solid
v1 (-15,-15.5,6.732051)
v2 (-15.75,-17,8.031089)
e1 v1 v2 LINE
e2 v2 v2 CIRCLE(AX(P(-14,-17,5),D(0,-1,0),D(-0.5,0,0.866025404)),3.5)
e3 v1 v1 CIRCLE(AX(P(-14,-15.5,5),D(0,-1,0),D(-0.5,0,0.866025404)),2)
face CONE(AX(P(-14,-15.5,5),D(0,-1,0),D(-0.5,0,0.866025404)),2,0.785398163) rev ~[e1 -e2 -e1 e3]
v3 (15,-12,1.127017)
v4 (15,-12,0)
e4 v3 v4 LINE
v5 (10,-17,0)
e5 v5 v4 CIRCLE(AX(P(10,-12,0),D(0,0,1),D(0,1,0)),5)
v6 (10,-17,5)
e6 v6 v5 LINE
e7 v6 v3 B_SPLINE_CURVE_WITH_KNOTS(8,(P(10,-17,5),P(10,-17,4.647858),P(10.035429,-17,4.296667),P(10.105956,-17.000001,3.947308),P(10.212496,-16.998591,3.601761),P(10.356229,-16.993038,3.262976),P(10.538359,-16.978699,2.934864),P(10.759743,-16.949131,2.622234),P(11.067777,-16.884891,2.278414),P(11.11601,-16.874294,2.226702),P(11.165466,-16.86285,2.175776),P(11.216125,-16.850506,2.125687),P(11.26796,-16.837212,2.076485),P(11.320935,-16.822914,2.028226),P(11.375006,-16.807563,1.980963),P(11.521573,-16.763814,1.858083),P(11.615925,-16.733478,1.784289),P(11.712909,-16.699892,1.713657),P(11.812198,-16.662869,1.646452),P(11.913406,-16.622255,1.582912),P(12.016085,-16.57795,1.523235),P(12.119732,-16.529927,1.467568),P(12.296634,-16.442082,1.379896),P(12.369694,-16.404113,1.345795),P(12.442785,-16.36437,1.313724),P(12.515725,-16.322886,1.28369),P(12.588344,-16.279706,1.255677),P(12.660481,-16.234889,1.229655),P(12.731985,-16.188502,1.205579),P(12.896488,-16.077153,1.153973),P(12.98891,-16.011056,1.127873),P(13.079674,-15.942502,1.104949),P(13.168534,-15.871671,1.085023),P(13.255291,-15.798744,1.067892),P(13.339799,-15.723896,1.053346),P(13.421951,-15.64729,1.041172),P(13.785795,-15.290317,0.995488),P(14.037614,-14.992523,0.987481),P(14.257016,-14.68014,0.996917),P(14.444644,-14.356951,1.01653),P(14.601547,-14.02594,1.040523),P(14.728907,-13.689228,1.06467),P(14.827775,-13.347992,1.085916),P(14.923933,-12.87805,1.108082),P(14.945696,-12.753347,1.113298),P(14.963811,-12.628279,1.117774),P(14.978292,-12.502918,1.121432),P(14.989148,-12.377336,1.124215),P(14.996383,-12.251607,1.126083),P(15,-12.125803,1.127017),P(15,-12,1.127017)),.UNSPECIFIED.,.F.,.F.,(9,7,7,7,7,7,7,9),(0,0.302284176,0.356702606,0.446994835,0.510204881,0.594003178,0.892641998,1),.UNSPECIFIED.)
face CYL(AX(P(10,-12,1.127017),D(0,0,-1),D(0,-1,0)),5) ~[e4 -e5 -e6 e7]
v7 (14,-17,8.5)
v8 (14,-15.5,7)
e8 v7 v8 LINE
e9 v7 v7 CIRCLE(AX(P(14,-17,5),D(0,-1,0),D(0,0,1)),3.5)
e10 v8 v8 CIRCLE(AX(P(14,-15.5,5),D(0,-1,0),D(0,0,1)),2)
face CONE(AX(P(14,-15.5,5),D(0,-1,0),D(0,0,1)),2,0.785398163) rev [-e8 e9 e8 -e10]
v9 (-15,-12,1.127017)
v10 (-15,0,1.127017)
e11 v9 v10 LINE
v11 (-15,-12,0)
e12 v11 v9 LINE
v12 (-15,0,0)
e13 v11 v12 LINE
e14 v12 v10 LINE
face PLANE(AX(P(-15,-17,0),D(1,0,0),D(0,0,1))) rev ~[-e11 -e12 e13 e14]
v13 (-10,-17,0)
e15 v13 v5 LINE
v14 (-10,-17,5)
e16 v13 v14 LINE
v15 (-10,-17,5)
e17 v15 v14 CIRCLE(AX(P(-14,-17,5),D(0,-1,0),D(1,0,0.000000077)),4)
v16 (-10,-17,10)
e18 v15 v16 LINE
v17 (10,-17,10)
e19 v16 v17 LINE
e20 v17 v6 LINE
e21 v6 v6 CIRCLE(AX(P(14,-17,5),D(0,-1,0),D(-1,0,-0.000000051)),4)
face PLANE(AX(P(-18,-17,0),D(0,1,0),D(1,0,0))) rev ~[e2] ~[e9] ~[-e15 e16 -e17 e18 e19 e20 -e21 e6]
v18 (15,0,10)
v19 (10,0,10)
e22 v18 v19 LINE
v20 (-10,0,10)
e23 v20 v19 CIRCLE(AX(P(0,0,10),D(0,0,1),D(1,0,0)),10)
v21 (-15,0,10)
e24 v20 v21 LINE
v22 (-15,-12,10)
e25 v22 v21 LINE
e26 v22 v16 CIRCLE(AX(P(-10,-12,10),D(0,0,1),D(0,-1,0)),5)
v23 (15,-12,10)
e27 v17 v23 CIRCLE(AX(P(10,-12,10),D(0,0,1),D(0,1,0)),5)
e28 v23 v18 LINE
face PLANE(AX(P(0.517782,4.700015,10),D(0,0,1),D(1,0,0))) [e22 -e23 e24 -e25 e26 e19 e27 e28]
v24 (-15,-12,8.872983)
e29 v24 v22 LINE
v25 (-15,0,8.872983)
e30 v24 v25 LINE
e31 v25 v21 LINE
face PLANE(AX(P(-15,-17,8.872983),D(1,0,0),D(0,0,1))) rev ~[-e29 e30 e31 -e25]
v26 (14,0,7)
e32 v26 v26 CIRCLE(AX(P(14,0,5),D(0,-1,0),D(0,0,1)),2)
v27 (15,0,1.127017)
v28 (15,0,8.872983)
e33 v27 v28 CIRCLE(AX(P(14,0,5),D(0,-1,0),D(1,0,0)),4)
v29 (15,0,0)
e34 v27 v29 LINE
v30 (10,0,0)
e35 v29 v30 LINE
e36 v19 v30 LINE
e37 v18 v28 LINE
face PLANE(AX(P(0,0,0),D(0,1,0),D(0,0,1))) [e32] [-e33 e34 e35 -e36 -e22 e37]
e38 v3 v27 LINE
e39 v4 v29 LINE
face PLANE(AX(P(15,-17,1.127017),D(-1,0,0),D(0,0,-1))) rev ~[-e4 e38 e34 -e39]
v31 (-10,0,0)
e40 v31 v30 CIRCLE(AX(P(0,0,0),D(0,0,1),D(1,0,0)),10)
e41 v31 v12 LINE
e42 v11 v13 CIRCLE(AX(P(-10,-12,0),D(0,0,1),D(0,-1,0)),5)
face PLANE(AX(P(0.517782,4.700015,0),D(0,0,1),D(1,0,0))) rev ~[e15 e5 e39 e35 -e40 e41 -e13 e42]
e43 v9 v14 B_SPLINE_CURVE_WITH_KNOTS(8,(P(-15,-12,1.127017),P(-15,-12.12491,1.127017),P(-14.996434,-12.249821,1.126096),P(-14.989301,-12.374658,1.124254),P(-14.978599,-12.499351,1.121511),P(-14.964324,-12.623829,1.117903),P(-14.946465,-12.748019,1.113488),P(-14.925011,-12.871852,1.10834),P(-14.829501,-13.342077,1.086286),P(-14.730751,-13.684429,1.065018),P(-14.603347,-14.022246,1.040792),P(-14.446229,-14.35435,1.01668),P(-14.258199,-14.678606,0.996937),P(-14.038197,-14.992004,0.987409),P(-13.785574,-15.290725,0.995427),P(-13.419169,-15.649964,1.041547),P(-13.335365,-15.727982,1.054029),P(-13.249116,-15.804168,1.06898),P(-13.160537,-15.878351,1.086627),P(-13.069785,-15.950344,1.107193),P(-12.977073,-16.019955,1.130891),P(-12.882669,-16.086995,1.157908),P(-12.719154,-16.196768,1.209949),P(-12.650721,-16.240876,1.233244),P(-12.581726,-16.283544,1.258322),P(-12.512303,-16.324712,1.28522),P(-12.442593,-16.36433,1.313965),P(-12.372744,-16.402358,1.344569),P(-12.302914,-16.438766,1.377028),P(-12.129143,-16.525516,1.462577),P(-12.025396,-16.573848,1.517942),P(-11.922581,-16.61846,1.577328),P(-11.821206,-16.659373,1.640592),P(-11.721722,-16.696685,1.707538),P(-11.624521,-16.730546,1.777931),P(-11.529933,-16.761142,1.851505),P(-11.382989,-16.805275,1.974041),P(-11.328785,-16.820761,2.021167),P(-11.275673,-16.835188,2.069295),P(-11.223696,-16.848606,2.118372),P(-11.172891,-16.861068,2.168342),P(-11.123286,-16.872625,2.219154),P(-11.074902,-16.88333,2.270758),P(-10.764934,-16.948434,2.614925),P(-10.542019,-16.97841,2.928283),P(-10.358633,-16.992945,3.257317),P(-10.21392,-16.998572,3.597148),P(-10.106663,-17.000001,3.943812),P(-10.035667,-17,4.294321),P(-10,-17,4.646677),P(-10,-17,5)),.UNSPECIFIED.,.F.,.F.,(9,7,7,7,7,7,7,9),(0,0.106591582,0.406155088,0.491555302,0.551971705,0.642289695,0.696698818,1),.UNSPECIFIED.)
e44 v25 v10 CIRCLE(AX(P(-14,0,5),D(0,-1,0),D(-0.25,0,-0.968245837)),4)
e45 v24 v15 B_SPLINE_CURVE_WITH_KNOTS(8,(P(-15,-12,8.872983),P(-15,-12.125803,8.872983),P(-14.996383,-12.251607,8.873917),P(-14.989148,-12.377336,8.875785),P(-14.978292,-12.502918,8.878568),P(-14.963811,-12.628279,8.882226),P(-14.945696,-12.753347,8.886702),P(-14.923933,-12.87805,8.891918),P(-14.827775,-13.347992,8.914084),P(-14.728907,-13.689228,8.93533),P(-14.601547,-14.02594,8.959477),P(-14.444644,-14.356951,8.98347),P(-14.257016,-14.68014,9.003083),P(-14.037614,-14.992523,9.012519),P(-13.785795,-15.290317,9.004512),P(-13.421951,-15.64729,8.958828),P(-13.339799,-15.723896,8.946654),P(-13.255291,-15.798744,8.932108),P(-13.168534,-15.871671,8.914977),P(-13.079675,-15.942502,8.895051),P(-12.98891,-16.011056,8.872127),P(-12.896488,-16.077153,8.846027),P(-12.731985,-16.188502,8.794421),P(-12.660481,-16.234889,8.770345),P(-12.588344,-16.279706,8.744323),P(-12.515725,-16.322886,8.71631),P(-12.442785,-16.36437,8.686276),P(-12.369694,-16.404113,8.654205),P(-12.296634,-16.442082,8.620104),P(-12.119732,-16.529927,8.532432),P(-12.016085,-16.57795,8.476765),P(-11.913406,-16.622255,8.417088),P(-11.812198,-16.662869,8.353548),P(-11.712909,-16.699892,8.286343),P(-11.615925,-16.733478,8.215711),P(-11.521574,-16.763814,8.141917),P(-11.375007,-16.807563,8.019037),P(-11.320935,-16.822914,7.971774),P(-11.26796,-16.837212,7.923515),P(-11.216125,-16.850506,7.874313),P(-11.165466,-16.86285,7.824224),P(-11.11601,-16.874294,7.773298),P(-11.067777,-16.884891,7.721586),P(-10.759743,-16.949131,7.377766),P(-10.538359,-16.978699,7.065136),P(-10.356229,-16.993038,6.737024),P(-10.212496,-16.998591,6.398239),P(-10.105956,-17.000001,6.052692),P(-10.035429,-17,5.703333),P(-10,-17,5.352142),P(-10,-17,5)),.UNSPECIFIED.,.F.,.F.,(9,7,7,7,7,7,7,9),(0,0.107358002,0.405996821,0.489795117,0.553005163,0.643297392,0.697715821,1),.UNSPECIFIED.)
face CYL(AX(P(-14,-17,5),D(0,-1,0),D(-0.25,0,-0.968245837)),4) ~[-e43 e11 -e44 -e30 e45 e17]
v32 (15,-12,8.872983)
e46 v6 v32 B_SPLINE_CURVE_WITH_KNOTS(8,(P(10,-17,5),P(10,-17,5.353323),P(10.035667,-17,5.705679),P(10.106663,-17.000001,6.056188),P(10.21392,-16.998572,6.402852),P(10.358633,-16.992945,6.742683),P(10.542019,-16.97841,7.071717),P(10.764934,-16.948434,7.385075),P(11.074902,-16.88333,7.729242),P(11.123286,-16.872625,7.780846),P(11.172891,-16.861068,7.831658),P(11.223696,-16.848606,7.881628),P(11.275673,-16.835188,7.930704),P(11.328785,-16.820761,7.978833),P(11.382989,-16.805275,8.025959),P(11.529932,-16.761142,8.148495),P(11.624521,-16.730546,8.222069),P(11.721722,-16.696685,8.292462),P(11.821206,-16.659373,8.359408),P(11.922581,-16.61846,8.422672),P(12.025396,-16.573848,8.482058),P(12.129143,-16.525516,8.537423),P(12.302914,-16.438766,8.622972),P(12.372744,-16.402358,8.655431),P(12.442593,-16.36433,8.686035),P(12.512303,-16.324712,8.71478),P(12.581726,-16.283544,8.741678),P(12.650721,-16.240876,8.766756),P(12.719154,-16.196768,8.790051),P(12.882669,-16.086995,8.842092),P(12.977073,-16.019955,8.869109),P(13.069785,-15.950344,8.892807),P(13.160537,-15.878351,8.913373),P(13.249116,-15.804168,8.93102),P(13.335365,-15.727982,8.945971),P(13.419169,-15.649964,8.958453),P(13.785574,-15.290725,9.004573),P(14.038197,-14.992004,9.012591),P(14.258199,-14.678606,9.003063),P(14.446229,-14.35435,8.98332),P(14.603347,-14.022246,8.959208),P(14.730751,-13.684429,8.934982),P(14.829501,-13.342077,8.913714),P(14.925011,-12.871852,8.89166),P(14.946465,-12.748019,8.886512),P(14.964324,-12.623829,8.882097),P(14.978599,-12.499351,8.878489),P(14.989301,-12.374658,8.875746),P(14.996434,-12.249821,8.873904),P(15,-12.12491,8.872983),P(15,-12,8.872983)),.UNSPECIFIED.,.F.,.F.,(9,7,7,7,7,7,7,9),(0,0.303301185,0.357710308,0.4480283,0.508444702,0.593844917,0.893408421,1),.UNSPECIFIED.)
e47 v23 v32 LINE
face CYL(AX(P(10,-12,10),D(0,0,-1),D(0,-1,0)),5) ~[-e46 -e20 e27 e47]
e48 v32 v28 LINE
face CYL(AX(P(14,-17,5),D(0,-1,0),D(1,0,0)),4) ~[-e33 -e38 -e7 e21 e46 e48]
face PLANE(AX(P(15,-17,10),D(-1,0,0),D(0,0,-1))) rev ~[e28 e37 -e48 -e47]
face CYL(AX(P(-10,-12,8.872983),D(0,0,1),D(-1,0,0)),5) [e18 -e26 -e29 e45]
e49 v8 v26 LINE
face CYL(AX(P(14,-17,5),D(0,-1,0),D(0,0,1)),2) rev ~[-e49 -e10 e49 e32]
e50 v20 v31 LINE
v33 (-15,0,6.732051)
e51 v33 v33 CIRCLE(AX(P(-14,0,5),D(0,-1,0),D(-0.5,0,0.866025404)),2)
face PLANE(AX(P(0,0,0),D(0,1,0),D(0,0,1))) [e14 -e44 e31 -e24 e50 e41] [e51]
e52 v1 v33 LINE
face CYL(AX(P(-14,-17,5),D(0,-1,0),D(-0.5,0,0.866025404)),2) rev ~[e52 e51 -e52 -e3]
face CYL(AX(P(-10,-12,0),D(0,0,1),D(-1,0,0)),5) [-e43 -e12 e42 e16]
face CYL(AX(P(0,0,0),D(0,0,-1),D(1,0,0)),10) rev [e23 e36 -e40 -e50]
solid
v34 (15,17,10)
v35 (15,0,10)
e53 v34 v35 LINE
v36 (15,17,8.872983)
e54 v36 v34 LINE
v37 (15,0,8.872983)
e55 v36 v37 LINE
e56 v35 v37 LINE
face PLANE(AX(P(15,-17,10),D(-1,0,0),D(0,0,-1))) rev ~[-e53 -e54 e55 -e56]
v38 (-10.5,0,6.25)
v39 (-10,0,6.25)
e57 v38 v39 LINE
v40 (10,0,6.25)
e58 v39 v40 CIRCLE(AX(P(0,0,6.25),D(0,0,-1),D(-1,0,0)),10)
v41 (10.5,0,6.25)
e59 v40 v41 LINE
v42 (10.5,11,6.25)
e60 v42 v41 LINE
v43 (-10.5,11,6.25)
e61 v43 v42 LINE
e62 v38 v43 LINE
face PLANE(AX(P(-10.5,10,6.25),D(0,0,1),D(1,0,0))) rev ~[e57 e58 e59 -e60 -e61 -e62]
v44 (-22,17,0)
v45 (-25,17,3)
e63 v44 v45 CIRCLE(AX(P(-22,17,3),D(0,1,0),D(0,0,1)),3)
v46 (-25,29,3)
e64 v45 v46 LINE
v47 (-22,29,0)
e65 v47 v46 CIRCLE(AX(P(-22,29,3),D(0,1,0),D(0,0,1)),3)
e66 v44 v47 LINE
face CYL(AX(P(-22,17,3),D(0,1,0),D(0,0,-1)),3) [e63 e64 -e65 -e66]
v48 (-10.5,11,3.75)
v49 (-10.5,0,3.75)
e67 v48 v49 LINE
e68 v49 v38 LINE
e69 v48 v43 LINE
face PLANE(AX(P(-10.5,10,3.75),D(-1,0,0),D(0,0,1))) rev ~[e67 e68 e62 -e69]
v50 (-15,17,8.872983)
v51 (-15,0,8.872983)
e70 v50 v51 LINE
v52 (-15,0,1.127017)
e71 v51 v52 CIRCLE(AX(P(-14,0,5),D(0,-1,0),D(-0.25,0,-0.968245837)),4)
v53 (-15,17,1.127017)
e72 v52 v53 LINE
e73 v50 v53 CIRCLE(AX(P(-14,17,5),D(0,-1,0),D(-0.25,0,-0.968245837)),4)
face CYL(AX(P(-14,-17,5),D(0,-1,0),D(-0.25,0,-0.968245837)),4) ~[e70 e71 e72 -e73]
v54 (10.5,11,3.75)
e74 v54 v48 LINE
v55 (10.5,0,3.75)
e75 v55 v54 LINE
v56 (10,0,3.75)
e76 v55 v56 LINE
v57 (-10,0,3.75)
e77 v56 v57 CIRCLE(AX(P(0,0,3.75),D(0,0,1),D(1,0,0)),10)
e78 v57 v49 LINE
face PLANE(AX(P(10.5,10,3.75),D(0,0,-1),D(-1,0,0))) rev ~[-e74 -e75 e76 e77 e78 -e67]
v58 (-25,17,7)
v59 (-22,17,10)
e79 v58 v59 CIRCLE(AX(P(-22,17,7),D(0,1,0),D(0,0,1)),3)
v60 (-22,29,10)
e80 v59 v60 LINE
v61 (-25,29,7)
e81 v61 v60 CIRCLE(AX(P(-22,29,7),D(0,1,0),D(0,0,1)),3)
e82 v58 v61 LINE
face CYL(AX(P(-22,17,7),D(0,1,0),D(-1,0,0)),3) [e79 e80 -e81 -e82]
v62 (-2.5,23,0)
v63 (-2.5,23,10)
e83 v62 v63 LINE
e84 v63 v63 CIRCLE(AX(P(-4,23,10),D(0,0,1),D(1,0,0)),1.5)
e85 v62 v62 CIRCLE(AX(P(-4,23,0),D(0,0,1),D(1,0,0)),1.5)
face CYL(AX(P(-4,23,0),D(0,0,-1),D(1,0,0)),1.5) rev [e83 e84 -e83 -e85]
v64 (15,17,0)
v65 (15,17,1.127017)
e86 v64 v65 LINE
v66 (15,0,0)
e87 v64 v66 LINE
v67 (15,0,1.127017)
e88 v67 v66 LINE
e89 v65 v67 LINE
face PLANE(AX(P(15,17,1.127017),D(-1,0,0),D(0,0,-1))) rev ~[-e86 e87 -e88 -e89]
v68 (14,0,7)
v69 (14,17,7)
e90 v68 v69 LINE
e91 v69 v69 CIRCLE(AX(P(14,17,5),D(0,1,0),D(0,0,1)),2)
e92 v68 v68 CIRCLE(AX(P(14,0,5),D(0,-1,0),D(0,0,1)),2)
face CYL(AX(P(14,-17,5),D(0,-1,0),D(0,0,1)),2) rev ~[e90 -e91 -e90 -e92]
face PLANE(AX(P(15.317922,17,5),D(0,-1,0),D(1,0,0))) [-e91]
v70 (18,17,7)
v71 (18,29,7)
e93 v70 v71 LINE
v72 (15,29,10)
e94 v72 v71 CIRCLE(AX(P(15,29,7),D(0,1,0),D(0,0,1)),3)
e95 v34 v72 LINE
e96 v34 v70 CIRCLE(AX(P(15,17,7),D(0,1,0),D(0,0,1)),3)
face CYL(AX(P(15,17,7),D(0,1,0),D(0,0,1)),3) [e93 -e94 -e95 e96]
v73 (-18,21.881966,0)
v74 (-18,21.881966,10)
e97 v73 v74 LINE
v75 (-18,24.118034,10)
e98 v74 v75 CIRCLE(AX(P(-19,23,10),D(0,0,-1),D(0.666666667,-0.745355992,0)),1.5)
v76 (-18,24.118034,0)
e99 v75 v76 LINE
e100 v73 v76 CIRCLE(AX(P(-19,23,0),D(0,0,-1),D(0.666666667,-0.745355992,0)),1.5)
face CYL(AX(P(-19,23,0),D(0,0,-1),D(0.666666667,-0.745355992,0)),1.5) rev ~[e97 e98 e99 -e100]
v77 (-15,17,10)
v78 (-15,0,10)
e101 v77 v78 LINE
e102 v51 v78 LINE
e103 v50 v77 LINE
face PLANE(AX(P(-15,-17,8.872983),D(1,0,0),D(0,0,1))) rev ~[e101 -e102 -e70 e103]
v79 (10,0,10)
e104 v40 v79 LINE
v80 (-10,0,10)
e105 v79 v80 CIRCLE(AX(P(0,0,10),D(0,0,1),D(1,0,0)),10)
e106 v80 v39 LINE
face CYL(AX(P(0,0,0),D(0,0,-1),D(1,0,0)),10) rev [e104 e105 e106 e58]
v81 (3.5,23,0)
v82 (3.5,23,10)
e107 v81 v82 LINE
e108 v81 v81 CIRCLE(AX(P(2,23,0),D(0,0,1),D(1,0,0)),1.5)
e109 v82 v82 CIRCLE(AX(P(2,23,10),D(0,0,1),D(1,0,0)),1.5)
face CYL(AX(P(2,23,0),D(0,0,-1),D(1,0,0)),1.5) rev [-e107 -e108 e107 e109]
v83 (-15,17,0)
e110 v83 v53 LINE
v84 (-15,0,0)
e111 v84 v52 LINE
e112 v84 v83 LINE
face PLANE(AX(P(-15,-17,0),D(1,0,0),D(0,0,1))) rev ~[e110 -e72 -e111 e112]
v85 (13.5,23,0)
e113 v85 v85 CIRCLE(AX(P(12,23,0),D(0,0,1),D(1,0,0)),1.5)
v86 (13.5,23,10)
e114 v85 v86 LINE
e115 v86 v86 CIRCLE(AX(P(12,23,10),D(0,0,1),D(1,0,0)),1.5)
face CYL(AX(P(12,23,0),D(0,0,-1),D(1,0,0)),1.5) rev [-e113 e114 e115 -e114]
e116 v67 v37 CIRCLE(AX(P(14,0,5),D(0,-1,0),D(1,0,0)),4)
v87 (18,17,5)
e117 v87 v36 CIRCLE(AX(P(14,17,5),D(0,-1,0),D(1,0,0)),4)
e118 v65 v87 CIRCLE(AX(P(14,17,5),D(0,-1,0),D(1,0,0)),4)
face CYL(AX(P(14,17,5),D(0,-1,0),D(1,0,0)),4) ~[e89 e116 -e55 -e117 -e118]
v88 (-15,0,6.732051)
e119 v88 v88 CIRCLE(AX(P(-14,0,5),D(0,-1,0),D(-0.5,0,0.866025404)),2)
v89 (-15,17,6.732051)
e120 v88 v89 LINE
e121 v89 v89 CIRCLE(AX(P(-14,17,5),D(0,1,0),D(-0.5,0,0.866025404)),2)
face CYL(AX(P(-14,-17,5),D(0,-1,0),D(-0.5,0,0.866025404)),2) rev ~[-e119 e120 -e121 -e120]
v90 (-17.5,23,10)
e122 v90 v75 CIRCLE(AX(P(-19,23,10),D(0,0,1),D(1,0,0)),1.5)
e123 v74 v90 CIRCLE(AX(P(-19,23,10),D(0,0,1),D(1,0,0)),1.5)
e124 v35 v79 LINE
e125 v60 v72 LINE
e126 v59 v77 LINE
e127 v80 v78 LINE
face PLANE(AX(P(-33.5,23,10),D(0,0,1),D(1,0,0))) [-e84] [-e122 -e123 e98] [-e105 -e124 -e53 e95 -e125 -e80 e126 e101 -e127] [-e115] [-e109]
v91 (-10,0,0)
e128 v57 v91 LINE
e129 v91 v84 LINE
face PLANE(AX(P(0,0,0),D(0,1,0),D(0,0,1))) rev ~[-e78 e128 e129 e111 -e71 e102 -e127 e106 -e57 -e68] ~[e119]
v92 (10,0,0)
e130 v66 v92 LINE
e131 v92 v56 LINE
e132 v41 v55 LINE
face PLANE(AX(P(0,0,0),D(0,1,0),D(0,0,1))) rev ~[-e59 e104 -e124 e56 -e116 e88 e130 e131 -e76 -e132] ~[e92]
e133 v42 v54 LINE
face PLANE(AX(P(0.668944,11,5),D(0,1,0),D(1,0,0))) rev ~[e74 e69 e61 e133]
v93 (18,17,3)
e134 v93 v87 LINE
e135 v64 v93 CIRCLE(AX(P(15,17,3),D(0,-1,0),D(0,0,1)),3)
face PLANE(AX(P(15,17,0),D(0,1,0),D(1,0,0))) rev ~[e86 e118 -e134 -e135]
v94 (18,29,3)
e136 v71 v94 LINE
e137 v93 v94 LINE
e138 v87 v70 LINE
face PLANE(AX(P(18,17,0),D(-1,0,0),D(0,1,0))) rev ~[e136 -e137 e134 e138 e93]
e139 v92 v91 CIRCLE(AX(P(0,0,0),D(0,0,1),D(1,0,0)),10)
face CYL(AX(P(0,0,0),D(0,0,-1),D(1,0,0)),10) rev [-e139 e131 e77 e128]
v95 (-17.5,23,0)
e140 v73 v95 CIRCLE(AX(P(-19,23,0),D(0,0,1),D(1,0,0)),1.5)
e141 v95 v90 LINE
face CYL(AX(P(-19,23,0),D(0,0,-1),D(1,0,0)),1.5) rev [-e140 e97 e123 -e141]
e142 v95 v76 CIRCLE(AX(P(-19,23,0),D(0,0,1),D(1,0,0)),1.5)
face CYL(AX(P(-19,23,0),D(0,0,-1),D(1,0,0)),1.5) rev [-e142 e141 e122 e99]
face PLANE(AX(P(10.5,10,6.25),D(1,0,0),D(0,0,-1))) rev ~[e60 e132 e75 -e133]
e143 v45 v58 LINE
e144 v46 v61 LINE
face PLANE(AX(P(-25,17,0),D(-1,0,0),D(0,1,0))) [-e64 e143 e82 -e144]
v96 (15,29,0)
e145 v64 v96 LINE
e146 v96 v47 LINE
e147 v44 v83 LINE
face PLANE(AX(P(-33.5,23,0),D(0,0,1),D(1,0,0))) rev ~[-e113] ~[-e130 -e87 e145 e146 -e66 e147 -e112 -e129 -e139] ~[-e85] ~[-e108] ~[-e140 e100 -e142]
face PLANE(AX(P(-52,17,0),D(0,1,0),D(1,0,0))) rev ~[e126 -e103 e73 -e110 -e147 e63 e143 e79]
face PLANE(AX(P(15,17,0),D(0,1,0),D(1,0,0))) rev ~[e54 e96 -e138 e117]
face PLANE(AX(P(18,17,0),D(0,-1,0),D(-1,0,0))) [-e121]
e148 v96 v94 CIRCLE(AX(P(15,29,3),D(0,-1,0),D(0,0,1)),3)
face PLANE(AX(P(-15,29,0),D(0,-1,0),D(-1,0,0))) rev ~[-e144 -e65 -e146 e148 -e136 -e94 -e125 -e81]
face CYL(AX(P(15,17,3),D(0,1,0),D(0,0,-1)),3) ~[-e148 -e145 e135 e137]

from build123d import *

# Parameters (mm, degrees)
SKETCH1_R           = 10.000000000000004
SKETCH1_R_2         = 1.5000000000000007
SKETCH1_R_3         = 1.5000000000000027
SKETCH1_R_4         = 1.5000000000000024
BOSS_EXTRUDE1_DEPTH = 10
CUT_EXTRUDE1_DEPTH  = 34
CUT_EXTRUDE3_START  = 20
SKETCH3_W           = 0.5
SKETCH3_H           = 2.499999999999996
CUT_EXTRUDE3_DEPTH  = 10
CUT_EXTRUDE4_START  = 20
SKETCH3_3_W         = 0.5
SKETCH3_3_H         = 2.499999999999996
CUT_EXTRUDE4_DEPTH  = 1
FILLET1_R           = 5
CHAMFER1_SIZE       = 1.5
BOSS_EXTRUDE2_REACH = 37.567
SKETCH5_W           = 36
SKETCH5_H           = 12.000000000000004
SKETCH5_R           = 1.5000000000000024
SKETCH5_R_2         = 1.500000000000002
SKETCH5_R_3         = 1.5
CUT_EXTRUDE6_DEPTH  = 12
BOSS_EXTRUDE3_START = -10
SKETCH7_R           = 1.5000000000000215
BOSS_EXTRUDE3_DEPTH = 10
CUT_EXTRUDE7_START  = -10
SKETCH8_R           = 1.5000000000000042
SKETCH8_W           = 26.999999999999982
SKETCH8_H           = 12.000000000000004
CUT_EXTRUDE7_DEPTH  = 10
FILLET2_R           = 3


with BuildPart() as part:
    # Sketch1 → Boss-Extrude1 (new body)
    with BuildSketch(Plane.XY):
        with BuildLine():
            ThreePointArc((7.0000000000000355, 26.31662479035534), (3.3722813232688944, 28.84096258931757), (-1.0000000000002711, 28.196152422706483))
            ThreePointArc((-1.0000000000002185, 28.196152422706756), (-7.000000000000114, 28.19615242270657), (-10.000000000000007, 23))
            Line((-10.000000000000005, 23), (-10.000000000000005, 17))
            Line((-10.000000000000004, 17), (-18.000000000000004, 17))
            Line((-18.000000000000004, 17), (-18.000000000000004, -17))
            Line((-18.000000000000004, -17), (17.999999999999996, -17))
            Line((17.999999999999996, -17), (17.999999999999996, 23))
            ThreePointArc((17.999999999999996, 23), (13.73205080756885, 28.744562646538036), (6.999999999999968, 26.316624790355363))
        make_face()
        Circle(SKETCH1_R, mode=Mode.SUBTRACT)
        with Locations((-4.0000000000000036, 23)):
            Circle(SKETCH1_R_2, mode=Mode.SUBTRACT)
        with Locations((1.9999999999999956, 23)):
            Circle(SKETCH1_R_3, mode=Mode.SUBTRACT)
        with Locations((11.999999999999995, 23)):
            Circle(SKETCH1_R_4, mode=Mode.SUBTRACT)
    extrude(amount=BOSS_EXTRUDE1_DEPTH)

    # Sketch2 → Cut-Extrude1 (cut)
    with BuildSketch(Plane.XZ.offset(17)):
        with BuildLine():
            Line((-14.000000000000002, 6.999999999999998), (-14.000000000000002, 2.9999999999999996))
            ThreePointArc((-13.999999999999972, 2.9999999999999996), (-12.585786437626895, 3.5857864376269153), (-12.000000000000002, 4.999999999999998))
            ThreePointArc((-12.000000000000002, 4.999999999999999), (-12.585786437626897, 6.414213562373083), (-13.999999999999972, 6.999999999999998))
        make_face()
        with BuildLine():
            ThreePointArc((-15, 3.267949192431122), (-14.517638090205029, 3.068148347421859), (-13.999999999999972, 2.9999999999999996))
            Line((-14.000000000000002, 2.9999999999999996), (-14.000000000000002, 6.999999999999998))
            ThreePointArc((-13.999999999999972, 6.999999999999998), (-14.517638090205029, 6.931851652578139), (-15.000000000000002, 6.732050807568876))
            Line((-15.000000000000002, 6.732050807568876), (-15.000000000000002, 3.2679491924311215))
        make_face()
        with BuildLine():
            ThreePointArc((-15.000000000000002, 6.732050807568876), (-16, 4.999999999999998), (-15, 3.267949192431122))
            Line((-15.000000000000002, 3.2679491924311215), (-15.000000000000002, 6.732050807568876))
        make_face()
        with BuildLine():
            Line((14.999999999999996, 6.732050807568884), (15, 3.2679491924311357))
            ThreePointArc((15.000000000000002, 3.267949192431135), (15.732050807568875, 4.000000000000011), (15.999999999999996, 5.000000000000009))
            ThreePointArc((15.999999999999996, 5.00000000000001), (15.732050807568875, 6.000000000000008), (15, 6.732050807568885))
        make_face()
        with BuildLine():
            Line((13.999999999999996, 7.000000000000009), (14, 3.0000000000000107))
            ThreePointArc((14.000000000000028, 3.0000000000000107), (14.517638090205056, 3.0681483474218787), (15.000000000000002, 3.267949192431135))
            Line((15, 3.2679491924311357), (14.999999999999996, 6.732050807568884))
            ThreePointArc((15, 6.732050807568885), (14.517638090205056, 6.931851652578141), (14.000000000000027, 7.000000000000009))
        make_face()
        with BuildLine():
            ThreePointArc((14.000000000000027, 7.000000000000009), (12, 5.000000000000009), (14.000000000000028, 3.0000000000000107))
            Line((14, 3.0000000000000107), (13.999999999999996, 7.000000000000009))
        make_face()
        with BuildLine():
            Line((14.999999999999995, 10.00000000000001), (14.999999999999995, 8.87298334620741))
            ThreePointArc((15.000000000000027, 8.872983346207418), (17.162277660168385, 7.449489742783175), (17.999999999999996, 5.00000000000001))
            Line((17.999999999999996, 5.00000000000001), (17.999999999999996, 10))
            Line((17.999999999999996, 10), (14.999999999999995, 10))
        make_face()
        with BuildLine():
            Line((15.000000000000002, 1.1270166537926105), (15.000000000000002, 1.066e-14))
            Line((15.000000000000004, 0), (17.999999999999996, 0))
            Line((17.999999999999996, 0), (17.999999999999996, 5.00000000000001))
            ThreePointArc((17.999999999999996, 5.000000000000009), (17.162277660168385, 2.5505102572168443), (15.000000000000032, 1.1270166537926025))
        make_face()
        with BuildLine():
            Line((-18.000000000000004, 10), (-18.000000000000004, 5))
            ThreePointArc((-18.000000000000004, 5), (-17.16227766016838, 7.449489742783178), (-15.000000000000004, 8.872983346207416))
            Line((-15.000000000000002, 8.872983346207416), (-15.000000000000002, 10))
            Line((-15.000000000000004, 10), (-18.000000000000004, 10))
        make_face()
        with BuildLine():
            Line((-18.000000000000004, 0), (-15.000000000000002, 0))
            Line((-15.000000000000002, 0), (-15.000000000000002, 1.127016653792582))
            ThreePointArc((-15.000000000000004, 1.1270166537925816), (-17.16227766016838, 2.5505102572168212), (-18.000000000000004, 5))
            Line((-18.000000000000004, 5), (-18.000000000000004, 0))
        make_face()
    extrude(amount=-CUT_EXTRUDE1_DEPTH, mode=Mode.SUBTRACT)

    # Sketch3 → Cut-Extrude3 (cut)
    with BuildSketch(Plane(origin=(0, -10.000000000000002, 0), x_dir=(1, 0, 0), z_dir=(0, 1, 0)).offset(CUT_EXTRUDE3_START)):
        Polygon((10.000000000000002, -6.2499999999999964), (10.000000000000002, -3.7500000000000004), (-8.662112306558027, -3.7500000000000004), (-8.662112306558027, -6.250000000000001), align=None)
        Polygon((-8.662112306558027, -3.7500000000000004), (-10.000000000000002, -3.7500000000000004), (-10, -6.250000000000003), (-8.662112306558027, -6.250000000000002), align=None)
        Polygon((-10, -6.250000000000003), (-10.000000000000002, -3.7500000000000004), (-10.5, -3.7500000000000004), (-10.5, -6.250000000000002), align=None)
        with Locations((10.250000000000002, -4.999999999999998)):
            Rectangle(SKETCH3_W, SKETCH3_H)
    extrude(amount=-CUT_EXTRUDE3_DEPTH, mode=Mode.SUBTRACT)

    # Sketch3_3 → Cut-Extrude4 (cut)
    with BuildSketch(Plane(origin=(0, -10.000000000000002, 0), x_dir=(1, 0, 0), z_dir=(0, 1, 0)).offset(CUT_EXTRUDE4_START)):
        Polygon((10.000000000000002, -6.2499999999999964), (10.000000000000002, -3.7500000000000004), (-8.662112306558027, -3.7500000000000004), (-8.662112306558027, -6.250000000000001), align=None)
        Polygon((-8.662112306558027, -3.7500000000000004), (-10.000000000000002, -3.7500000000000004), (-10, -6.250000000000003), (-8.662112306558027, -6.250000000000002), align=None)
        Polygon((-10, -6.250000000000003), (-10.000000000000002, -3.7500000000000004), (-10.5, -3.7500000000000004), (-10.5, -6.250000000000002), align=None)
        with Locations((10.250000000000002, -4.999999999999998)):
            Rectangle(SKETCH3_3_W, SKETCH3_3_H)
    extrude(amount=CUT_EXTRUDE4_DEPTH, mode=Mode.SUBTRACT)

    # Fillet1
    fillet1_edges = [part.edges().sort_by_distance(p)[0] for p in [
        (-15.000000000000002, -17, 0.563508326896291),
        (14.999999999999995, -17, 9.43649167310371),
        (15.000000000000002, -17, 0.5635083268963106),
        (-15.000000000000002, -17, 9.436491673103708),
    ]]
    fillet(fillet1_edges, radius=FILLET1_R)

    # Chamfer1
    chamfer1_edges = [part.edges().sort_by_distance(p)[0] for p in [
        (13.999999999999972, -17, 7.00000000000001),
        (-13.000000000000005, -17, 3.2679491924311277),
    ]]
    chamfer(chamfer1_edges, length=CHAMFER1_SIZE)


with BuildPart() as body_2:
    # Split1: the piece on the far side of the plane
    add(part.part)
    split(bisect_by=Plane.ZX, keep=Keep.BOTTOM)


with BuildPart() as part_1:
    add(part.part)

    # Split1
    split(bisect_by=Plane.ZX, keep=Keep.TOP)

    # Boss-Extrude2: up to this face of the body (flat: up to its plane)
    boss_extrude2_end = Plane(part_1.part.faces().sort_by_distance((1.800705517, 15.88757201, 10))[0])
    # Sketch5 → Boss-Extrude2 (add, up to the picked face)
    with BuildSketch(Plane(origin=(0, 0, 0), x_dir=(-1, 0, 0), z_dir=(0, 0, -1)), mode=Mode.PRIVATE) as boss_extrude2_sk1:
        with Locations((3.55e-15, 23)):
            Rectangle(SKETCH5_W, SKETCH5_H)
        with Locations(Location((-11.999999999999995, 23, 0), (0, 0, 180))):
            Circle(SKETCH5_R, mode=Mode.SUBTRACT)
        with Locations(Location((-1.999999999999995, 23, 0), (0, 0, 180))):
            Circle(SKETCH5_R_2, mode=Mode.SUBTRACT)
        with Locations(Location((4.000000000000005, 23, 0), (0, 0, 180))):
            Circle(SKETCH5_R_3, mode=Mode.SUBTRACT)
    boss_extrude2_tool1 = split(extrude(boss_extrude2_sk1.sketch, amount=-BOSS_EXTRUDE2_REACH, mode=Mode.PRIVATE), bisect_by=boss_extrude2_end, keep=Keep.BOTH, mode=Mode.PRIVATE)
    add(boss_extrude2_tool1.solids().sort_by(Axis((-0.172071, 23, 0), (0, 0, 1)))[0])

    # Sketch6 → Cut-Extrude6 (cut)
    with BuildSketch(Plane.XZ.offset(-17)):
        with BuildLine():
            Line((17.999999999999996, 10), (14.999999999999995, 10))
            Line((14.999999999999995, 10), (14.999999999999995, 8.872983346207427))
            ThreePointArc((14.999999999999995, 8.872983346207427), (17.162277660168375, 7.449489742783188), (17.999999999999996, 5.00000000000001))
            Line((17.999999999999996, 5.00000000000001), (17.999999999999996, 10))
        make_face()
        with BuildLine():
            Line((17.999999999999996, 0), (17.999999999999996, 5.00000000000001))
            ThreePointArc((17.999999999999996, 5.00000000000001), (17.162277660168378, 2.550510257216833), (15.000000000000002, 1.1270166537925945))
            Line((15.000000000000002, 1.127016653792595), (15.000000000000002, 0))
            Line((15.000000000000002, 0), (17.999999999999996, 0))
        make_face()
        with BuildLine():
            Line((-15, 10.000000000000002), (-18.000000000000004, 10.000000000000002))
            Line((-18.000000000000004, 10.000000000000002), (-18.000000000000004, 4.999999999999997))
            ThreePointArc((-18.000000000000004, 4.999999999999997), (-17.162277660168385, 7.449489742783179), (-15.000000000000002, 8.872983346207418))
            Line((-15.000000000000002, 8.872983346207418), (-15, 10.000000000000002))
        make_face()
        with BuildLine():
            ThreePointArc((-15.000000000000002, 1.1270166537925816), (-17.16227766016838, 2.55051025721682), (-18.000000000000004, 4.999999999999997))
            Line((-18.000000000000004, 4.999999999999997), (-18.000000000000004, 0))
            Line((-18.000000000000004, 0), (-15, 0))
            Line((-15, 0), (-15.000000000000002, 1.1270166537925814))
        make_face()
    extrude(amount=-CUT_EXTRUDE6_DEPTH, mode=Mode.SUBTRACT)

    # Sketch7 → Boss-Extrude3 (add)
    # profile 1 of 2: a face of its own
    with BuildSketch(Plane.XY.offset(10).offset(BOSS_EXTRUDE3_START)):
        Polygon((-15.000000000000002, 29), (-51.99999999999998, 29.000000000000014), (-51.99999999999998, 17.000000000000014), (-15.000000000000007, 17.000000000000004), align=None)
        with BuildLine():
            ThreePointArc((-18.000000000000018, 21.881966011250086), (-20.500000000000007, 23), (-18.000000000000018, 24.118033988749914))
            Line((-18.000000000000004, 24.118033988749918), (-18.000000000000004, 21.881966011250082))
        make_face(mode=Mode.SUBTRACT)
        with Locations((-45.999999999999986, 23)):
            Circle(SKETCH7_R, mode=Mode.SUBTRACT)
    # profile 2 of 2: a face of its own
    with BuildSketch(Plane.XY.offset(10).offset(BOSS_EXTRUDE3_START)):
        Polygon((18.000000000000004, 29), (14.999999999999996, 29), (14.999999999999995, 17), (18.000000000000004, 17), align=None)
    extrude(amount=BOSS_EXTRUDE3_DEPTH)

    # Sketch8 → Cut-Extrude7 (cut)
    with BuildSketch(Plane.XY.offset(10).offset(CUT_EXTRUDE7_START)):
        with Locations((-19.000000000000004, 23)):
            Circle(SKETCH8_R)
        with Locations((-38.49999999999999, 23.000000000000007)):
            Rectangle(SKETCH8_W, SKETCH8_H)
    extrude(amount=CUT_EXTRUDE7_DEPTH, mode=Mode.SUBTRACT)

    # Fillet2
    fillet2_edges = [part_1.edges().sort_by_distance(p)[0] for p in [
        (18.000000000000004, 23, 0),
        (18.000000000000004, 23, 10),
        (-25, 23.00000000000001, 0),
        (-25, 23.00000000000001, 10),
    ]]
    fillet(fillet2_edges, radius=FILLET2_R)


solid = Compound([body_2.part, part_1.part])
